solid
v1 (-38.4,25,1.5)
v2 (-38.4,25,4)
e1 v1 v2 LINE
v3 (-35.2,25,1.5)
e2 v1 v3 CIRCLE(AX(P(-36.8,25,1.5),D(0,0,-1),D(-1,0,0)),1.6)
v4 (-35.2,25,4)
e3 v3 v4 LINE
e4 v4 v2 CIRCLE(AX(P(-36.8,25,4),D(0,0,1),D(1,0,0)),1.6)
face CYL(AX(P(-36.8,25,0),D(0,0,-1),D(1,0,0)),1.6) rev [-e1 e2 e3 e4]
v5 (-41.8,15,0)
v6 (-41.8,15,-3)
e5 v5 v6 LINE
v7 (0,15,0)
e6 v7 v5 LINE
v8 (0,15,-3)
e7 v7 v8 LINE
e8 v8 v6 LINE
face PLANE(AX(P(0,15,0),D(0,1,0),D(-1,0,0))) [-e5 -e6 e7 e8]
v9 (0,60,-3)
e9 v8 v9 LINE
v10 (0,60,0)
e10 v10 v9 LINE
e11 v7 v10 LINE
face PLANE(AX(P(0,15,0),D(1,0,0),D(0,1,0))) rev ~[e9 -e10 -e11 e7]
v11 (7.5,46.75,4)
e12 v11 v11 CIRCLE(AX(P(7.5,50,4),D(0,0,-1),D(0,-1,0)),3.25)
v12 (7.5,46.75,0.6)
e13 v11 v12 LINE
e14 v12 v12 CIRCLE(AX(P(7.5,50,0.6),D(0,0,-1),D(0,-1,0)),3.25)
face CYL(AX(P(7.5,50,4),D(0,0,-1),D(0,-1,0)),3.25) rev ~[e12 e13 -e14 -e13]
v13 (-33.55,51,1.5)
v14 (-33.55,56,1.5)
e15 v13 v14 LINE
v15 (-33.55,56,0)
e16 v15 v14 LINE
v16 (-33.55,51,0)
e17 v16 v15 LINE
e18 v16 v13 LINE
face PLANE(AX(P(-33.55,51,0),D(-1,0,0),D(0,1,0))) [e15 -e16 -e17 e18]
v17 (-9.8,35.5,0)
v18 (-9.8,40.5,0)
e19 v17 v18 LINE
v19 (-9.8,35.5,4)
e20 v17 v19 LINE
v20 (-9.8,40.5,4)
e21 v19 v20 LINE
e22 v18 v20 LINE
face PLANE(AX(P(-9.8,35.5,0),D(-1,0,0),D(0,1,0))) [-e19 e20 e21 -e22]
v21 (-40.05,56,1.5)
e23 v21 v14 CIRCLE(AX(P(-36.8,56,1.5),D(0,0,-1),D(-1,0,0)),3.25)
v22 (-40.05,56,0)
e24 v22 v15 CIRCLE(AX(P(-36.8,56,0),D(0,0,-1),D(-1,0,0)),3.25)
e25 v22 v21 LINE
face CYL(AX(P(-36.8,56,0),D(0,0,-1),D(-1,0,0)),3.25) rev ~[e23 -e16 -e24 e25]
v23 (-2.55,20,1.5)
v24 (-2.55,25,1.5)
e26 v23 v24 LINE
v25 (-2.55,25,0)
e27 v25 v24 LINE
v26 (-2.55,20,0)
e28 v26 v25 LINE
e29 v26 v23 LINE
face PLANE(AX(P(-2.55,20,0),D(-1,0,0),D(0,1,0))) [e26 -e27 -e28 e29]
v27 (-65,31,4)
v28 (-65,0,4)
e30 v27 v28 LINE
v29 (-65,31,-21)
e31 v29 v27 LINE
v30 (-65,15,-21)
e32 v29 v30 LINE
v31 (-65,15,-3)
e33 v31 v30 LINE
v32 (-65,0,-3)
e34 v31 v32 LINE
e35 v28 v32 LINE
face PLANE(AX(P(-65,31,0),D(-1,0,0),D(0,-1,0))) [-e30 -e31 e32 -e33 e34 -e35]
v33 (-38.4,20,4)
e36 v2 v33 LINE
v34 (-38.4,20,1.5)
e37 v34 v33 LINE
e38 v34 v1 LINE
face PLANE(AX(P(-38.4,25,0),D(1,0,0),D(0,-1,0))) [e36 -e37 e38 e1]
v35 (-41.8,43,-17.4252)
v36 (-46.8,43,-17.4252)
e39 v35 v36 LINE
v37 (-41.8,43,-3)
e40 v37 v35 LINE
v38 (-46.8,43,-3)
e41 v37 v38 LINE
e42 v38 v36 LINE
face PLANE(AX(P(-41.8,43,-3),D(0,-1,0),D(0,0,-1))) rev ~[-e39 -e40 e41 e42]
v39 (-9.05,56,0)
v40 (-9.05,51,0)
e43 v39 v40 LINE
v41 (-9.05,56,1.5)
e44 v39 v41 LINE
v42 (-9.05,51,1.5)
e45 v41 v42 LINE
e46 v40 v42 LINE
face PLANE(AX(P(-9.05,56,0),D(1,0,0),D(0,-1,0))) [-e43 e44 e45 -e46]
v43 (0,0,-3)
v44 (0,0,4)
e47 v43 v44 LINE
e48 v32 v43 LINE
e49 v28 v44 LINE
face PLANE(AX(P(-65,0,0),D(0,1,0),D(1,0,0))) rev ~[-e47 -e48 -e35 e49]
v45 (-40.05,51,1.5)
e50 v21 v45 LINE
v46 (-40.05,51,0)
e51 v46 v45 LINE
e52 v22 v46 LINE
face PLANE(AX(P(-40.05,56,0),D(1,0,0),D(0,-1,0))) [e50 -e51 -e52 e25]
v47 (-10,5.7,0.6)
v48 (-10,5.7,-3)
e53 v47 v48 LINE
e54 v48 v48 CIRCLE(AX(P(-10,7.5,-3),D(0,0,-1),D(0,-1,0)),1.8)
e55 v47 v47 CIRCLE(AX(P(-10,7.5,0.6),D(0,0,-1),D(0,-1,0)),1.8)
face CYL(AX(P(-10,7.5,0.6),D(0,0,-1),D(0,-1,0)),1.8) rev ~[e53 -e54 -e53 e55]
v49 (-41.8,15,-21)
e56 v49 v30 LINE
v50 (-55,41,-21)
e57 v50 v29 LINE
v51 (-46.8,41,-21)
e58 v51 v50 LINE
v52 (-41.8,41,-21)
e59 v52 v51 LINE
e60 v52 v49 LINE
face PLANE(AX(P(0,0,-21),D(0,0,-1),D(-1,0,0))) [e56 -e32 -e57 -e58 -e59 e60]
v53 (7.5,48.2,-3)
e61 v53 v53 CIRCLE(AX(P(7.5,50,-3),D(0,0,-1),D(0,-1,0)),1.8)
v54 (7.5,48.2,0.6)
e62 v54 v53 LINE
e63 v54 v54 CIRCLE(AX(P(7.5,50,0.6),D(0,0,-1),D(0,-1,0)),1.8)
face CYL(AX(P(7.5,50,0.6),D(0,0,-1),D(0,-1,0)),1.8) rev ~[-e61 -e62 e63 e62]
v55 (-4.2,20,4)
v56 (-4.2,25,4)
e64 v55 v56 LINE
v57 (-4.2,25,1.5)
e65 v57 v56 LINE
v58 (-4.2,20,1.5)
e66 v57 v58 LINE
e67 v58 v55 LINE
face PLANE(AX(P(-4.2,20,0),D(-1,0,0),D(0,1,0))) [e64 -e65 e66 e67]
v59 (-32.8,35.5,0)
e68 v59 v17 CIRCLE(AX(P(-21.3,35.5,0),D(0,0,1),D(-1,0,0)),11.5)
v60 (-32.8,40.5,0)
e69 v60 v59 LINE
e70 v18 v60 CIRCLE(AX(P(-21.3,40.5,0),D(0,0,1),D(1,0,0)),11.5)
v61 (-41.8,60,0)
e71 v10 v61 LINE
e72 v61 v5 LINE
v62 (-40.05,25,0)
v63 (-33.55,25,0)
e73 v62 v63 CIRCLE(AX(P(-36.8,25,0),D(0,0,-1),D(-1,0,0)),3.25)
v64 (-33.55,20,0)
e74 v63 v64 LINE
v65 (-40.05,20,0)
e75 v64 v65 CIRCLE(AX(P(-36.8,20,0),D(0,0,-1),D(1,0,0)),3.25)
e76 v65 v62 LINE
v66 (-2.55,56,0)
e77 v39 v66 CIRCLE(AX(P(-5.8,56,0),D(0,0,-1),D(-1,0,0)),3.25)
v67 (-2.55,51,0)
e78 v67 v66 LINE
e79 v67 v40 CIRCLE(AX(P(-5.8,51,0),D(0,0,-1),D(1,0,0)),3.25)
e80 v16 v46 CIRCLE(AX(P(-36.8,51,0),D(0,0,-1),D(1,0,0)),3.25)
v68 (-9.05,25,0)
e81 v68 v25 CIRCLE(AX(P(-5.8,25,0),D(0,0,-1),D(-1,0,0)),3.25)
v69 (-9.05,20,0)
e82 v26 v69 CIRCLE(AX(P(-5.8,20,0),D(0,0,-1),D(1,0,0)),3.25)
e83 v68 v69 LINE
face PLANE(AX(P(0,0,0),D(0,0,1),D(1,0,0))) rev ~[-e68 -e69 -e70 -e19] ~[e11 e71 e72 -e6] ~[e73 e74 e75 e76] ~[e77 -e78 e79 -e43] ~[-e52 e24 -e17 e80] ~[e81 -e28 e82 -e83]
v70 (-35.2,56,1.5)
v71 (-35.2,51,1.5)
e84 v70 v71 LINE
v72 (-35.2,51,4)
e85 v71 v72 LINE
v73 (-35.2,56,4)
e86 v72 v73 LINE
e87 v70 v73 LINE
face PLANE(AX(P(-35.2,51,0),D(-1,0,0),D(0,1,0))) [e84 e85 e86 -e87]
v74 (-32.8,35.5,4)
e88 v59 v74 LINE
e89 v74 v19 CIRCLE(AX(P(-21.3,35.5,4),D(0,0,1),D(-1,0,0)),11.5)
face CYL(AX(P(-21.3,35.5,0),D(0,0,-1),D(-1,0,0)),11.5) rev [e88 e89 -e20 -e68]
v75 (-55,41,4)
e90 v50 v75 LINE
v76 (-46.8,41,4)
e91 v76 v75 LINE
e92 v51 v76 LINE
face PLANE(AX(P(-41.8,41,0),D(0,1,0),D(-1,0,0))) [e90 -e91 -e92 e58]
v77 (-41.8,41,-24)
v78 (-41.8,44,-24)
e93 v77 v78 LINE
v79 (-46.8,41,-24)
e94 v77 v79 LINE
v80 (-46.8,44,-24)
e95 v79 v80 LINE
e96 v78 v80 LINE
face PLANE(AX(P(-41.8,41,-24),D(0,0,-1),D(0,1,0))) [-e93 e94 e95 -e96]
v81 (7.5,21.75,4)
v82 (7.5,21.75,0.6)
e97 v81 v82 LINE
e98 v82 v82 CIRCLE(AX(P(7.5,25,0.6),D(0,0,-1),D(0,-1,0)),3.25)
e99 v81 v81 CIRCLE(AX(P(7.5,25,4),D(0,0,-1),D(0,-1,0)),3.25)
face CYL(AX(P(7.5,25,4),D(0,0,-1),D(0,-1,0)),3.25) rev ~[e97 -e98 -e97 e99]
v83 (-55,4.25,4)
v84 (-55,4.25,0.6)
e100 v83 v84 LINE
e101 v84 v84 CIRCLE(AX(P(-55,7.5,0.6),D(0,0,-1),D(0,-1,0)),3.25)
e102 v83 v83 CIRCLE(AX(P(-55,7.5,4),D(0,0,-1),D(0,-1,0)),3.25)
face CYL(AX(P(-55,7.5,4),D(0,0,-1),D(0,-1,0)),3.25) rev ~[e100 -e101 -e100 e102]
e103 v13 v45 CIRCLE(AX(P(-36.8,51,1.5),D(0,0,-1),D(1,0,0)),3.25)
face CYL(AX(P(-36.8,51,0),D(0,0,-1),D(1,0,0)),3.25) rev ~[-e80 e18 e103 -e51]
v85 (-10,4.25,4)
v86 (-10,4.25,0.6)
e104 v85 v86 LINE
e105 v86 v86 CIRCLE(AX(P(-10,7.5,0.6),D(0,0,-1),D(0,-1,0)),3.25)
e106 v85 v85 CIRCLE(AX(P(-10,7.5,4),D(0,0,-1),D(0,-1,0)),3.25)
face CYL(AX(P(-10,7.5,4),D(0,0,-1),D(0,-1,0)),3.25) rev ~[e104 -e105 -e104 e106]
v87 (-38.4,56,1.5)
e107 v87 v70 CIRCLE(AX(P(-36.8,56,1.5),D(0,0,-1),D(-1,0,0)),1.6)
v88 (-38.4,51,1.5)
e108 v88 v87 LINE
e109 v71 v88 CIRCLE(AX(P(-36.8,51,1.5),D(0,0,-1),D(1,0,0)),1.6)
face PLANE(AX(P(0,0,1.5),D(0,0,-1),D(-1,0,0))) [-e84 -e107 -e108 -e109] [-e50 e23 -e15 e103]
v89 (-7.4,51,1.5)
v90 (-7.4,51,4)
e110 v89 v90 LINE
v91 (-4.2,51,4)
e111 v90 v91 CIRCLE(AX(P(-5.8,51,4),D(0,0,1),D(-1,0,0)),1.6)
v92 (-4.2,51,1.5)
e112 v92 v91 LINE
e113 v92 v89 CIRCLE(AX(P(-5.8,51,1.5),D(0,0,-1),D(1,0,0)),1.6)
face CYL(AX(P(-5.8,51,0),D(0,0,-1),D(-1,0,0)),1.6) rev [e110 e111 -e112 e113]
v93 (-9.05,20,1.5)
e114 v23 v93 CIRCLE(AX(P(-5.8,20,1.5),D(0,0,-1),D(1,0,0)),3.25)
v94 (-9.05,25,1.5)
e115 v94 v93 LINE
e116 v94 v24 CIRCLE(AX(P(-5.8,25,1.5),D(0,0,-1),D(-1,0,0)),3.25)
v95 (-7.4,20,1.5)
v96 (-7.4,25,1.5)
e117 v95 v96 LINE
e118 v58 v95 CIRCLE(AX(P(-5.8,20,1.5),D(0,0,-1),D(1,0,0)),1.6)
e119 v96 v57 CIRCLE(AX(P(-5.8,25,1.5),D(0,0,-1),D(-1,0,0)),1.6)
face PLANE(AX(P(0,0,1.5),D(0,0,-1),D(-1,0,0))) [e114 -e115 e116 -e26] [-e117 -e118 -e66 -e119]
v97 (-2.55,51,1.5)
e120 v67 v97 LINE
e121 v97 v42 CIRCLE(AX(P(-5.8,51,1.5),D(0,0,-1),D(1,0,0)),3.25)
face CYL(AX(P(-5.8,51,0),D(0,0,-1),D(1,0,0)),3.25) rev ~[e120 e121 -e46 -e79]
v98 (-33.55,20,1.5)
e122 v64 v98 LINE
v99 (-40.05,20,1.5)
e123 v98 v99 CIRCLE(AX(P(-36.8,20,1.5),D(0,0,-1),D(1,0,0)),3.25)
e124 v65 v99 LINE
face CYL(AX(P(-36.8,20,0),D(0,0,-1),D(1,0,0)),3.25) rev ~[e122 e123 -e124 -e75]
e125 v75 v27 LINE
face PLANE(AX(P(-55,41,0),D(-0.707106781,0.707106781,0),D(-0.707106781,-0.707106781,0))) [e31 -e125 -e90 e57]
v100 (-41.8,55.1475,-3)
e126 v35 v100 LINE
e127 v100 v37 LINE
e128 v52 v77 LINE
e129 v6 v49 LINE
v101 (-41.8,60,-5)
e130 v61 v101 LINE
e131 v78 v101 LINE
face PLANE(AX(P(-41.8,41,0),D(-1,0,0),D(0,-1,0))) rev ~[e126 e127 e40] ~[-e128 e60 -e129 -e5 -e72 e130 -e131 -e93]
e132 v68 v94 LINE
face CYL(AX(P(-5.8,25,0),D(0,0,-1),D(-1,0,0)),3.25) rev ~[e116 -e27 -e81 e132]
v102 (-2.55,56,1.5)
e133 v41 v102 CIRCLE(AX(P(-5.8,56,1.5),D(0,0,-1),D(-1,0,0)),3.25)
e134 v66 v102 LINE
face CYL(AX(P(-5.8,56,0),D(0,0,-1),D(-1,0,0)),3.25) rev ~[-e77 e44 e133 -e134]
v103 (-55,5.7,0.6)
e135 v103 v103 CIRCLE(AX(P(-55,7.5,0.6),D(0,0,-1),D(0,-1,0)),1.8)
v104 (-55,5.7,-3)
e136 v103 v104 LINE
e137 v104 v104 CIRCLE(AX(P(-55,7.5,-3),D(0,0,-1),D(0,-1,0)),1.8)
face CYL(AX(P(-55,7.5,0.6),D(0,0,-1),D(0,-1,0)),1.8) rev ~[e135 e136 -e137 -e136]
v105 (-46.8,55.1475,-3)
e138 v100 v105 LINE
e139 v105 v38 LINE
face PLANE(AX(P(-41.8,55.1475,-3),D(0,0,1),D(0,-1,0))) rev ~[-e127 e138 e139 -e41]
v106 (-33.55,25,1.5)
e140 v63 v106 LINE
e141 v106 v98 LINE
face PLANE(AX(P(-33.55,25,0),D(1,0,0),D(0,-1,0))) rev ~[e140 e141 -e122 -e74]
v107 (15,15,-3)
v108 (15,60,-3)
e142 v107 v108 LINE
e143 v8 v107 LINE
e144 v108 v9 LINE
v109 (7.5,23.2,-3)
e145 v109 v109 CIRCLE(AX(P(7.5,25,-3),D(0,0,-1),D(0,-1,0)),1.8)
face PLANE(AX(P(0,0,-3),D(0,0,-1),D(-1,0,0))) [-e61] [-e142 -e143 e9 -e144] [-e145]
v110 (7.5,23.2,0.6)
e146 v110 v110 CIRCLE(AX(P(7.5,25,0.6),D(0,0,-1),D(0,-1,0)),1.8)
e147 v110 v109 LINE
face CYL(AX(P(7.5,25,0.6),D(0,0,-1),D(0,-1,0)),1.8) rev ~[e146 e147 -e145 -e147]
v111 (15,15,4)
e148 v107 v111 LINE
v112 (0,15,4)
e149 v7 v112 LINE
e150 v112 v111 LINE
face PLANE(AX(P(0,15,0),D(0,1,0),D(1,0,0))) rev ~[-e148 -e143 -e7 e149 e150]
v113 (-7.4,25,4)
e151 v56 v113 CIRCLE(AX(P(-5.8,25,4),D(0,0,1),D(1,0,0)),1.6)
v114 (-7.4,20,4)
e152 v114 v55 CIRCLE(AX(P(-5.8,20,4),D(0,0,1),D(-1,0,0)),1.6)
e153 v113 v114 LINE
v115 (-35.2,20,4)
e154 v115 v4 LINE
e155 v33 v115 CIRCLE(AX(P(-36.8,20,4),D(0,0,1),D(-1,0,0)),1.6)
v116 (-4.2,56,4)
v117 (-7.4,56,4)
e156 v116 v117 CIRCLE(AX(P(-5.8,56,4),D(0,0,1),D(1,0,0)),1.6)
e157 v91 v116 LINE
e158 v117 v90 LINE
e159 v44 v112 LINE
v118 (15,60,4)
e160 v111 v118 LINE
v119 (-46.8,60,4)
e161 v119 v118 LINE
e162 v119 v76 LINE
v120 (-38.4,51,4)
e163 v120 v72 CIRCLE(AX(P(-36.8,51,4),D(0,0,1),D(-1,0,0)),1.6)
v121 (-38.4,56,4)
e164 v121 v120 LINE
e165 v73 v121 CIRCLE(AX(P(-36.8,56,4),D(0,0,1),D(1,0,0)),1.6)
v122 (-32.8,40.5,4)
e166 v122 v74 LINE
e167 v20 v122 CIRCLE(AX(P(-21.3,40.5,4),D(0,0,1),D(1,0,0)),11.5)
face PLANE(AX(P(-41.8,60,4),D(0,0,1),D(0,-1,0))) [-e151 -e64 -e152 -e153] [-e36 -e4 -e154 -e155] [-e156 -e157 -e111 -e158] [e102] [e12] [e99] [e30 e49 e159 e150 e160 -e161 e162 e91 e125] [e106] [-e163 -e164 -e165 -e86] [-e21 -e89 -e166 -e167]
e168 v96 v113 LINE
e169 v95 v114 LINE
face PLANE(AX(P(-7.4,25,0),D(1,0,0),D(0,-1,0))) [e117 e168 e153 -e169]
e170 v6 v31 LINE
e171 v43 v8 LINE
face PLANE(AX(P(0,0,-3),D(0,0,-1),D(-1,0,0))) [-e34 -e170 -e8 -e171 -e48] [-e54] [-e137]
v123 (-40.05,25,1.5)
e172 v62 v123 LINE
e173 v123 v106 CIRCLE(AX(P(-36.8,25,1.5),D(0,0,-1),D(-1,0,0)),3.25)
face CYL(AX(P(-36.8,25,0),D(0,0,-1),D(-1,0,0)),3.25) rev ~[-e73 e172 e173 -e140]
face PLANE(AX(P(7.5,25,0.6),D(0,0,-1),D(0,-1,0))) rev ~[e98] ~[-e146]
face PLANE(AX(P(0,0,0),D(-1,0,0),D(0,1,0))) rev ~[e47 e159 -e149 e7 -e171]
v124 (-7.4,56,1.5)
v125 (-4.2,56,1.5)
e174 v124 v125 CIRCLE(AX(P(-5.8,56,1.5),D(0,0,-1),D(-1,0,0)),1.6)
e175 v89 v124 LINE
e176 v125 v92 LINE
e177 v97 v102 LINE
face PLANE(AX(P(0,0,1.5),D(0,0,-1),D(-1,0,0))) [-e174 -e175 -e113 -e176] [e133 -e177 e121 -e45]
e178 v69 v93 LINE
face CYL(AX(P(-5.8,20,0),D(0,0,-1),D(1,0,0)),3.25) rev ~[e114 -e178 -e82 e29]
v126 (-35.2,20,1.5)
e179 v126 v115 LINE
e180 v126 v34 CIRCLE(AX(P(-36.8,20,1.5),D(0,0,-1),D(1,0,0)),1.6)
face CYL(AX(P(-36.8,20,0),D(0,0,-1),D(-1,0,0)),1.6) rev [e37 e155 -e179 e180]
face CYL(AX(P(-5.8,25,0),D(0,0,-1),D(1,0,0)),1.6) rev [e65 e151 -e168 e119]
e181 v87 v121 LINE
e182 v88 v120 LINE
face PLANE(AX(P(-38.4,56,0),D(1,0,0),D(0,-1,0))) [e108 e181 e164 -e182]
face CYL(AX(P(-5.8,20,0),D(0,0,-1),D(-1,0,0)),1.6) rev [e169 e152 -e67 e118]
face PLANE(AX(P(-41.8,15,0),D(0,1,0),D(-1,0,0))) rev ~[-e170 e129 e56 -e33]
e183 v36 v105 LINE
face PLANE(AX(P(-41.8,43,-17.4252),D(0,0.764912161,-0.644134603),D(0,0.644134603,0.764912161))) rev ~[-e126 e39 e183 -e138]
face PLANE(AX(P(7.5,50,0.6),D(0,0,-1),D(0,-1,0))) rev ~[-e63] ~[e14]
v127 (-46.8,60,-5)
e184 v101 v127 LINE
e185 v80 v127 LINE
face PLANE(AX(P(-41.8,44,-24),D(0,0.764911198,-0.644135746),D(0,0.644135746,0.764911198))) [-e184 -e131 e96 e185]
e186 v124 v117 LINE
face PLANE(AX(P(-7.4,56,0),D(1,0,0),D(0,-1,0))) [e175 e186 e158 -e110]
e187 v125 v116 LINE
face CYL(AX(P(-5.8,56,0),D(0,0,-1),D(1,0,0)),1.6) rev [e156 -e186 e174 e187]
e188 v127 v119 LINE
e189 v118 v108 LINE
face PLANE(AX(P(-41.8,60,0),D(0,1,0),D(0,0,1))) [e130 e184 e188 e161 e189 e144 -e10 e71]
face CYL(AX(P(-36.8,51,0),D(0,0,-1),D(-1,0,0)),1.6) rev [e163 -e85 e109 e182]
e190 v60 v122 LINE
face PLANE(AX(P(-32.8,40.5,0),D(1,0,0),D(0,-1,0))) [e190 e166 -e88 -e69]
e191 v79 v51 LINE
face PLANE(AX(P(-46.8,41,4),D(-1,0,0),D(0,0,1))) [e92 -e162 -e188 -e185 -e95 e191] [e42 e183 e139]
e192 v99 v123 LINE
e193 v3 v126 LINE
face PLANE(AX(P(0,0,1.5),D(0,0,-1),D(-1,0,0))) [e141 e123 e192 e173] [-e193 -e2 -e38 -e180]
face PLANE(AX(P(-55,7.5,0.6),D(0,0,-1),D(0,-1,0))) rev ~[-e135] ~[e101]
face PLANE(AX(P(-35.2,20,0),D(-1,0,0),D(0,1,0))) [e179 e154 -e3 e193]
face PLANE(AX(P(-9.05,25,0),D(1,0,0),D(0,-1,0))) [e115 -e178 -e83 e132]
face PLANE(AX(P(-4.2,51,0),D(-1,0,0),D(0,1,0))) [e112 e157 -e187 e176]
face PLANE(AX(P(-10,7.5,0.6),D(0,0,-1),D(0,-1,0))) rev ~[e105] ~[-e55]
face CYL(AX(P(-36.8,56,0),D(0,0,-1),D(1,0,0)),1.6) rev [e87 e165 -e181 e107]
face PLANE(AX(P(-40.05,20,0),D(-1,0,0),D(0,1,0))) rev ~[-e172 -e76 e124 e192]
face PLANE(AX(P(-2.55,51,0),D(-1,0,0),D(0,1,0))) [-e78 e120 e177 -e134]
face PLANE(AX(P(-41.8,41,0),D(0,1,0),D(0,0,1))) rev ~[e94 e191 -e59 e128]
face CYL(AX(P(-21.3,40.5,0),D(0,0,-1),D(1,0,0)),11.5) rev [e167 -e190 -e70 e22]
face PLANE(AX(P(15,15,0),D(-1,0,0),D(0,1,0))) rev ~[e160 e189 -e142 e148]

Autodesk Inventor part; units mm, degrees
ref_plane "YZ Plane" through (0, 0, 0) normal (1, 0, 0) x (0, 1, 0)
ref_plane "XZ Plane" through (0, 0, 0) normal (0, 1, 0) x (-1, 0, 0)
ref_plane "XY Plane" through (0, 0, 0) normal (0, 0, 1) x (1, 0, 0)
sketch "Sketch1" plane through (0, 0, 0) normal (0, 0, 1) x (1, 0, 0)
  line L0 (0, 0) -> (0, 15)
  line L1 (0, 15) -> (15, 15)
  line L2 (15, 15) -> (15, 60)
  line L3 (15, 60) -> (-65, 60)
  line L4 (-65, 60) -> (-65, 0)
  line L5 (-65, 0) -> (0, 0)
  line L6 (-36.8, 25) -> (-36.8, 20) construction
  line L7 (-38.4, 25) -> (-38.4, 20)
  line L8 (-35.2, 20) -> (-35.2, 25)
  arc A0 (-35.2, 25) -> (-38.4, 25) centre (-36.8, 25) ccw
  arc A1 (-38.4, 20) -> (-35.2, 20) centre (-36.8, 20) ccw
  line L9 (-5.8, 25) -> (-5.8, 20) construction
  line L10 (-7.4, 25) -> (-7.4, 20)
  line L11 (-4.2, 20) -> (-4.2, 25)
  arc A2 (-4.2, 25) -> (-7.4, 25) centre (-5.8, 25) ccw
  arc A3 (-7.4, 20) -> (-4.2, 20) centre (-5.8, 20) ccw
  line L12 (-5.8, 56) -> (-5.8, 51) construction
  line L13 (-7.4, 56) -> (-7.4, 51)
  line L14 (-4.2, 51) -> (-4.2, 56)
  arc A4 (-4.2, 56) -> (-7.4, 56) centre (-5.8, 56) ccw
  arc A5 (-7.4, 51) -> (-4.2, 51) centre (-5.8, 51) ccw
  line L15 (-36.8, 56) -> (-36.8, 51) construction
  line L16 (-38.4, 56) -> (-38.4, 51)
  line L17 (-35.2, 51) -> (-35.2, 56)
  arc A6 (-35.2, 56) -> (-38.4, 56) centre (-36.8, 56) ccw
  arc A7 (-38.4, 51) -> (-35.2, 51) centre (-36.8, 51) ccw
  line L18 (-21.3, 40.5) -> (-21.3, 35.5) construction
  line L19 (-32.8, 40.5) -> (-32.8, 35.5)
  line L20 (-9.8, 35.5) -> (-9.8, 40.5)
  arc A8 (-9.8, 40.5) -> (-32.8, 40.5) centre (-21.3, 40.5) ccw
  arc A9 (-32.8, 35.5) -> (-9.8, 35.5) centre (-21.3, 35.5) ccw
  line L21 (-41.8, 60) -> (-41.8, 41)
  line L22 (-41.8, 41) -> (-55, 41)
  line L23 (-55, 41) -> (-65, 31)
  point P0 (-36.8, 22.5)
  point P1 (-5.8, 22.5)
  point P2 (-5.8, 53.5)
  point P3 (-36.8, 53.5)
  point P4 (-21.3, 38)
  dimension "d0" = 15
  dimension "d57" = 3.2
  dimension "d58" = 31
  dimension "d59" = 31
  dimension "d60" = 36.3
  dimension "d61" = 11.5
  dimension "d62" = 5
  dimension "d63" = 15.5
  dimension "d64" = 15.5
  dimension "d65" = 60
  dimension "d66" = 80
  dimension "d67" = 38
  dimension "d68" = 45
  dimension "d69" = 31
  dimension "d70" = 19
  dimension "d71" = 5
extrude "Extrusion1" add sketch "Sketch1" along normal blind 4 contours L5 L4 L23 L22 L21 L3 L2 L1 L0
sketch "Sketch2" plane through (0, 0, 0) normal (0, 0, -1) x (-1, 0, 0)
  line L0 (0, 15) -> (-15, 15) projected
  line L1 (0, 0) -> (0, 15) projected
  line L2 (65, 0) -> (0, 0) projected
  line L3 (65, 31) -> (65, 0) projected
  line L4 (-15, 60) -> (41.8, 60) projected
  line L5 (-15, 15) -> (-15, 60) projected
  line L6 (0, 15) -> (65, 15)
  line L7 (65, 31) -> (65, 0) projected
  line L8 (0, 15) -> (-15, 15) projected
  line L9 (0, 15) -> (0, 60)
  line L10 (-15, 60) -> (41.8, 60) projected
  line L11 (55, 41) -> (65, 31) projected
  line L12 (41.8, 41) -> (55, 41) projected
  line L13 (41.8, 60) -> (41.8, 41) projected
  point P0 (65, 60)
  point P1 (0, 60)
extrude "Extrusion2" add sketch "Sketch2" along normal blind 3 contours L6 L3 L2 L1 | L0 L5 L4 L9
sketch "Sketch3" plane through (0, 0, 4) normal (0, 0, 1) x (1, 0, 0)
  line L0 (-65, 31) -> (-65, 0) projected
  line L1 (-65, 0) -> (0, 0) projected
  line L2 (0, 0) -> (0, 15) projected
  line L3 (0, 15) -> (15, 15) projected
  line L4 (15, 15) -> (15, 60) projected
  line L5 (15, 60) -> (-41.8, 60) projected
  line L6 (-65, 0) -> (-65, 15) projected
  line L7 (0, 60) -> (15, 60) projected
  line L8 (-41.8, 60) -> (-41.8, 41) projected
  line L9 (-41.8, 41) -> (-55, 41) projected
  line L10 (-55, 41) -> (-65, 31) projected
  point P0 (-10, 7.5)
  point P1 (-55, 7.5)
  point P2 (7.5, 25)
  point P3 (7.5, 50)
  point P4 (0, 7.5)
  point P5 (-65, 7.5)
  point P6 (7.5, 15)
  point P7 (7.5, 60)
  dimension "d18" = 10
  dimension "d19" = 10
  dimension "d20" = 10
  dimension "d21" = 10
hole "Hole1" at (-10, 7.5, 4) at (-55, 7.5, 4) at (7.5, 25, 4) at (7.5, 50, 4) direction (0, 0, -1) diameter 3.6 end through all counterbore diameter 6.5 counterbore depth 3.4 clearance for "Socket Head Cap Screw ISO 4762" size "M3" standard "ISO"
sketch "Sketch8" plane through (0, 0, 0) normal (0, 0, -1) x (-1, 0, 0)
  line L0 (0, 15) -> (65, 15) projected
  line L1 (65, 31) -> (65, 15) projected
  line L2 (55, 41) -> (65, 31) projected
  line L3 (41.8, 41) -> (55, 41) projected
  line L4 (41.8, 60) -> (41.8, 41) projected
  line L5 (0, 60) -> (41.8, 60) projected
  line L6 (0, 60) -> (0, 15) projected
  arc A0 (32.8, 40.5) -> (9.8, 40.5) centre (21.3, 40.5) ccw projected
  line L7 (32.8, 35.5) -> (32.8, 40.5) projected
  arc A1 (9.8, 35.5) -> (32.8, 35.5) centre (21.3, 35.5) ccw projected
  line L8 (9.8, 40.5) -> (9.8, 35.5) projected
  arc A2 (38.4, 56) -> (35.2, 56) centre (36.8, 56) ccw projected
  line L9 (38.4, 51) -> (38.4, 56) projected
  arc A3 (35.2, 51) -> (38.4, 51) centre (36.8, 51) ccw projected
  line L10 (35.2, 56) -> (35.2, 51) projected
  arc A4 (7.4, 56) -> (4.2, 56) centre (5.8, 56) ccw projected
  line L11 (7.4, 51) -> (7.4, 56) projected
  arc A5 (4.2, 51) -> (7.4, 51) centre (5.8, 51) ccw projected
  line L12 (4.2, 56) -> (4.2, 51) projected
  arc A6 (7.4, 25) -> (4.2, 25) centre (5.8, 25) ccw projected
  line L13 (7.4, 20) -> (7.4, 25) projected
  arc A7 (4.2, 20) -> (7.4, 20) centre (5.8, 20) ccw projected
  line L14 (4.2, 25) -> (4.2, 20) projected
  arc A8 (38.4, 25) -> (35.2, 25) centre (36.8, 25) ccw projected
  line L15 (38.4, 20) -> (38.4, 25) projected
  arc A9 (35.2, 20) -> (38.4, 20) centre (36.8, 20) ccw projected
  line L16 (35.2, 25) -> (35.2, 20) projected
  line L17 (41.8, 41) -> (55, 41) projected
  line L18 (41.8, 41) -> (41.8, 15)
  point P0 (0, 0)
extrude "Extrusion5" add sketch "Sketch8" along normal blind 21 contours L18 L3 L2 L1 L0
sketch "Sketch9" plane through (-41.8, 41, 4) normal (-1, 0, 0) x (0, 0, 1)
  line L0 (-4, 19) -> (-4, 0) projected
  line L1 (-4, 0) -> (0, 0) projected
  line L2 (0, 19) -> (0, 0) projected
  line L3 (-4, 19) -> (0, 19) projected
  line L4 (-4, 0) -> (0, 0) projected
  line L5 (-4, 0) -> (-28, 0)
  line L6 (-28, 0) -> (-28, 3)
  line L7 (-28, 3) -> (-9, 19)
  line L8 (-9, 19) -> (-4, 19)
  line L9 (0, 19) -> (-7, 19) projected
  line L10 (-21.4252, 2) -> (-7, 14.1475)
  line L11 (-7, 14.1475) -> (-7, 2)
  line L12 (-7, 2) -> (-21.4252, 2)
  point P0 (-4, -41)
  dimension "d74" = 24
  dimension "d75" = 3
  dimension "d76" = 5
  dimension "d77" = 5
  dimension "d78" = 3
  dimension "d79" = 2
extrude "Extrusion6" add sketch "Sketch9" along normal blind 5
sketch "Sketch10" plane through (0, 0, 0) normal (0, 0, -1) x (-1, 0, 0)
  line L0 (41.8, 60) -> (41.8, 15) projected
  line L1 (0, 60) -> (41.8, 60) projected
  line L2 (0, 60) -> (0, 15) projected
  line L3 (0, 15) -> (41.8, 15) projected
  arc A0 (32.8, 40.5) -> (9.8, 40.5) centre (21.3, 40.5) ccw projected
  line L4 (32.8, 35.5) -> (32.8, 40.5) projected
  arc A1 (9.8, 35.5) -> (32.8, 35.5) centre (21.3, 35.5) ccw projected
  line L5 (9.8, 40.5) -> (9.8, 35.5) projected
  arc A2 (38.4, 56) -> (35.2, 56) centre (36.8, 56) ccw projected
  line L6 (38.4, 51) -> (38.4, 56) projected
  arc A3 (35.2, 51) -> (38.4, 51) centre (36.8, 51) ccw projected
  line L7 (35.2, 56) -> (35.2, 51) projected
  arc A4 (7.4, 56) -> (4.2, 56) centre (5.8, 56) ccw projected
  line L8 (7.4, 51) -> (7.4, 56) projected
  arc A5 (4.2, 51) -> (7.4, 51) centre (5.8, 51) ccw projected
  line L9 (4.2, 56) -> (4.2, 51) projected
  arc A6 (7.4, 25) -> (4.2, 25) centre (5.8, 25) ccw projected
  line L10 (7.4, 20) -> (7.4, 25) projected
  arc A7 (4.2, 20) -> (7.4, 20) centre (5.8, 20) ccw projected
  line L11 (4.2, 25) -> (4.2, 20) projected
  arc A8 (38.4, 25) -> (35.2, 25) centre (36.8, 25) ccw projected
  line L12 (38.4, 20) -> (38.4, 25) projected
  arc A9 (35.2, 20) -> (38.4, 20) centre (36.8, 20) ccw projected
  line L13 (35.2, 25) -> (35.2, 20) projected
  line L14 (36.8, 56) -> (36.8, 51) construction
  line L15 (40.05, 56) -> (40.05, 51)
  line L16 (33.55, 51) -> (33.55, 56)
  arc A10 (40.05, 56) -> (33.55, 56) centre (36.8, 56) ccw
  arc A11 (33.55, 51) -> (40.05, 51) centre (36.8, 51) ccw
  line L17 (5.8, 51) -> (5.8, 56) construction
  line L18 (2.55, 51) -> (2.55, 56)
  line L19 (9.05, 56) -> (9.05, 51)
  arc A12 (2.55, 51) -> (9.05, 51) centre (5.8, 51) ccw
  arc A13 (9.05, 56) -> (2.55, 56) centre (5.8, 56) ccw
  line L20 (5.8, 20) -> (5.8, 25) construction
  line L21 (2.55, 20) -> (2.55, 25)
  line L22 (9.05, 25) -> (9.05, 20)
  arc A14 (2.55, 20) -> (9.05, 20) centre (5.8, 20) ccw
  arc A15 (9.05, 25) -> (2.55, 25) centre (5.8, 25) ccw
  line L23 (36.8, 20) -> (36.8, 25) construction
  line L24 (40.05, 20) -> (40.05, 25)
  line L25 (33.55, 25) -> (33.55, 20)
  arc A16 (33.55, 20) -> (40.05, 20) centre (36.8, 20) ccw
  arc A17 (40.05, 25) -> (33.55, 25) centre (36.8, 25) ccw
  point P0 (0, 0)
  point P1 (36.8, 53.5)
  point P2 (5.8, 53.5)
  point P3 (5.8, 22.5)
  point P4 (36.8, 22.5)
  dimension "d82" = 6.5
extrude "Extrusion7" cut sketch "Sketch10" against normal blind 1.5 contours L15 A11 L16 A10 | L18 A13 L19 A12 | L21 A15 L22 A14 | A16 L25 A17 L24
equation "\"d59\" = d58"
equation "\"d63\" = 0.5 * d58"
equation "\"d64\" = 0.5 * d59"
equation "\"d19\" = d18"
equation "\"d20\" = d18"
equation "\"d21\" = d20"
properties part number "Alpha Motor Mount" material "ABS Plastic"
